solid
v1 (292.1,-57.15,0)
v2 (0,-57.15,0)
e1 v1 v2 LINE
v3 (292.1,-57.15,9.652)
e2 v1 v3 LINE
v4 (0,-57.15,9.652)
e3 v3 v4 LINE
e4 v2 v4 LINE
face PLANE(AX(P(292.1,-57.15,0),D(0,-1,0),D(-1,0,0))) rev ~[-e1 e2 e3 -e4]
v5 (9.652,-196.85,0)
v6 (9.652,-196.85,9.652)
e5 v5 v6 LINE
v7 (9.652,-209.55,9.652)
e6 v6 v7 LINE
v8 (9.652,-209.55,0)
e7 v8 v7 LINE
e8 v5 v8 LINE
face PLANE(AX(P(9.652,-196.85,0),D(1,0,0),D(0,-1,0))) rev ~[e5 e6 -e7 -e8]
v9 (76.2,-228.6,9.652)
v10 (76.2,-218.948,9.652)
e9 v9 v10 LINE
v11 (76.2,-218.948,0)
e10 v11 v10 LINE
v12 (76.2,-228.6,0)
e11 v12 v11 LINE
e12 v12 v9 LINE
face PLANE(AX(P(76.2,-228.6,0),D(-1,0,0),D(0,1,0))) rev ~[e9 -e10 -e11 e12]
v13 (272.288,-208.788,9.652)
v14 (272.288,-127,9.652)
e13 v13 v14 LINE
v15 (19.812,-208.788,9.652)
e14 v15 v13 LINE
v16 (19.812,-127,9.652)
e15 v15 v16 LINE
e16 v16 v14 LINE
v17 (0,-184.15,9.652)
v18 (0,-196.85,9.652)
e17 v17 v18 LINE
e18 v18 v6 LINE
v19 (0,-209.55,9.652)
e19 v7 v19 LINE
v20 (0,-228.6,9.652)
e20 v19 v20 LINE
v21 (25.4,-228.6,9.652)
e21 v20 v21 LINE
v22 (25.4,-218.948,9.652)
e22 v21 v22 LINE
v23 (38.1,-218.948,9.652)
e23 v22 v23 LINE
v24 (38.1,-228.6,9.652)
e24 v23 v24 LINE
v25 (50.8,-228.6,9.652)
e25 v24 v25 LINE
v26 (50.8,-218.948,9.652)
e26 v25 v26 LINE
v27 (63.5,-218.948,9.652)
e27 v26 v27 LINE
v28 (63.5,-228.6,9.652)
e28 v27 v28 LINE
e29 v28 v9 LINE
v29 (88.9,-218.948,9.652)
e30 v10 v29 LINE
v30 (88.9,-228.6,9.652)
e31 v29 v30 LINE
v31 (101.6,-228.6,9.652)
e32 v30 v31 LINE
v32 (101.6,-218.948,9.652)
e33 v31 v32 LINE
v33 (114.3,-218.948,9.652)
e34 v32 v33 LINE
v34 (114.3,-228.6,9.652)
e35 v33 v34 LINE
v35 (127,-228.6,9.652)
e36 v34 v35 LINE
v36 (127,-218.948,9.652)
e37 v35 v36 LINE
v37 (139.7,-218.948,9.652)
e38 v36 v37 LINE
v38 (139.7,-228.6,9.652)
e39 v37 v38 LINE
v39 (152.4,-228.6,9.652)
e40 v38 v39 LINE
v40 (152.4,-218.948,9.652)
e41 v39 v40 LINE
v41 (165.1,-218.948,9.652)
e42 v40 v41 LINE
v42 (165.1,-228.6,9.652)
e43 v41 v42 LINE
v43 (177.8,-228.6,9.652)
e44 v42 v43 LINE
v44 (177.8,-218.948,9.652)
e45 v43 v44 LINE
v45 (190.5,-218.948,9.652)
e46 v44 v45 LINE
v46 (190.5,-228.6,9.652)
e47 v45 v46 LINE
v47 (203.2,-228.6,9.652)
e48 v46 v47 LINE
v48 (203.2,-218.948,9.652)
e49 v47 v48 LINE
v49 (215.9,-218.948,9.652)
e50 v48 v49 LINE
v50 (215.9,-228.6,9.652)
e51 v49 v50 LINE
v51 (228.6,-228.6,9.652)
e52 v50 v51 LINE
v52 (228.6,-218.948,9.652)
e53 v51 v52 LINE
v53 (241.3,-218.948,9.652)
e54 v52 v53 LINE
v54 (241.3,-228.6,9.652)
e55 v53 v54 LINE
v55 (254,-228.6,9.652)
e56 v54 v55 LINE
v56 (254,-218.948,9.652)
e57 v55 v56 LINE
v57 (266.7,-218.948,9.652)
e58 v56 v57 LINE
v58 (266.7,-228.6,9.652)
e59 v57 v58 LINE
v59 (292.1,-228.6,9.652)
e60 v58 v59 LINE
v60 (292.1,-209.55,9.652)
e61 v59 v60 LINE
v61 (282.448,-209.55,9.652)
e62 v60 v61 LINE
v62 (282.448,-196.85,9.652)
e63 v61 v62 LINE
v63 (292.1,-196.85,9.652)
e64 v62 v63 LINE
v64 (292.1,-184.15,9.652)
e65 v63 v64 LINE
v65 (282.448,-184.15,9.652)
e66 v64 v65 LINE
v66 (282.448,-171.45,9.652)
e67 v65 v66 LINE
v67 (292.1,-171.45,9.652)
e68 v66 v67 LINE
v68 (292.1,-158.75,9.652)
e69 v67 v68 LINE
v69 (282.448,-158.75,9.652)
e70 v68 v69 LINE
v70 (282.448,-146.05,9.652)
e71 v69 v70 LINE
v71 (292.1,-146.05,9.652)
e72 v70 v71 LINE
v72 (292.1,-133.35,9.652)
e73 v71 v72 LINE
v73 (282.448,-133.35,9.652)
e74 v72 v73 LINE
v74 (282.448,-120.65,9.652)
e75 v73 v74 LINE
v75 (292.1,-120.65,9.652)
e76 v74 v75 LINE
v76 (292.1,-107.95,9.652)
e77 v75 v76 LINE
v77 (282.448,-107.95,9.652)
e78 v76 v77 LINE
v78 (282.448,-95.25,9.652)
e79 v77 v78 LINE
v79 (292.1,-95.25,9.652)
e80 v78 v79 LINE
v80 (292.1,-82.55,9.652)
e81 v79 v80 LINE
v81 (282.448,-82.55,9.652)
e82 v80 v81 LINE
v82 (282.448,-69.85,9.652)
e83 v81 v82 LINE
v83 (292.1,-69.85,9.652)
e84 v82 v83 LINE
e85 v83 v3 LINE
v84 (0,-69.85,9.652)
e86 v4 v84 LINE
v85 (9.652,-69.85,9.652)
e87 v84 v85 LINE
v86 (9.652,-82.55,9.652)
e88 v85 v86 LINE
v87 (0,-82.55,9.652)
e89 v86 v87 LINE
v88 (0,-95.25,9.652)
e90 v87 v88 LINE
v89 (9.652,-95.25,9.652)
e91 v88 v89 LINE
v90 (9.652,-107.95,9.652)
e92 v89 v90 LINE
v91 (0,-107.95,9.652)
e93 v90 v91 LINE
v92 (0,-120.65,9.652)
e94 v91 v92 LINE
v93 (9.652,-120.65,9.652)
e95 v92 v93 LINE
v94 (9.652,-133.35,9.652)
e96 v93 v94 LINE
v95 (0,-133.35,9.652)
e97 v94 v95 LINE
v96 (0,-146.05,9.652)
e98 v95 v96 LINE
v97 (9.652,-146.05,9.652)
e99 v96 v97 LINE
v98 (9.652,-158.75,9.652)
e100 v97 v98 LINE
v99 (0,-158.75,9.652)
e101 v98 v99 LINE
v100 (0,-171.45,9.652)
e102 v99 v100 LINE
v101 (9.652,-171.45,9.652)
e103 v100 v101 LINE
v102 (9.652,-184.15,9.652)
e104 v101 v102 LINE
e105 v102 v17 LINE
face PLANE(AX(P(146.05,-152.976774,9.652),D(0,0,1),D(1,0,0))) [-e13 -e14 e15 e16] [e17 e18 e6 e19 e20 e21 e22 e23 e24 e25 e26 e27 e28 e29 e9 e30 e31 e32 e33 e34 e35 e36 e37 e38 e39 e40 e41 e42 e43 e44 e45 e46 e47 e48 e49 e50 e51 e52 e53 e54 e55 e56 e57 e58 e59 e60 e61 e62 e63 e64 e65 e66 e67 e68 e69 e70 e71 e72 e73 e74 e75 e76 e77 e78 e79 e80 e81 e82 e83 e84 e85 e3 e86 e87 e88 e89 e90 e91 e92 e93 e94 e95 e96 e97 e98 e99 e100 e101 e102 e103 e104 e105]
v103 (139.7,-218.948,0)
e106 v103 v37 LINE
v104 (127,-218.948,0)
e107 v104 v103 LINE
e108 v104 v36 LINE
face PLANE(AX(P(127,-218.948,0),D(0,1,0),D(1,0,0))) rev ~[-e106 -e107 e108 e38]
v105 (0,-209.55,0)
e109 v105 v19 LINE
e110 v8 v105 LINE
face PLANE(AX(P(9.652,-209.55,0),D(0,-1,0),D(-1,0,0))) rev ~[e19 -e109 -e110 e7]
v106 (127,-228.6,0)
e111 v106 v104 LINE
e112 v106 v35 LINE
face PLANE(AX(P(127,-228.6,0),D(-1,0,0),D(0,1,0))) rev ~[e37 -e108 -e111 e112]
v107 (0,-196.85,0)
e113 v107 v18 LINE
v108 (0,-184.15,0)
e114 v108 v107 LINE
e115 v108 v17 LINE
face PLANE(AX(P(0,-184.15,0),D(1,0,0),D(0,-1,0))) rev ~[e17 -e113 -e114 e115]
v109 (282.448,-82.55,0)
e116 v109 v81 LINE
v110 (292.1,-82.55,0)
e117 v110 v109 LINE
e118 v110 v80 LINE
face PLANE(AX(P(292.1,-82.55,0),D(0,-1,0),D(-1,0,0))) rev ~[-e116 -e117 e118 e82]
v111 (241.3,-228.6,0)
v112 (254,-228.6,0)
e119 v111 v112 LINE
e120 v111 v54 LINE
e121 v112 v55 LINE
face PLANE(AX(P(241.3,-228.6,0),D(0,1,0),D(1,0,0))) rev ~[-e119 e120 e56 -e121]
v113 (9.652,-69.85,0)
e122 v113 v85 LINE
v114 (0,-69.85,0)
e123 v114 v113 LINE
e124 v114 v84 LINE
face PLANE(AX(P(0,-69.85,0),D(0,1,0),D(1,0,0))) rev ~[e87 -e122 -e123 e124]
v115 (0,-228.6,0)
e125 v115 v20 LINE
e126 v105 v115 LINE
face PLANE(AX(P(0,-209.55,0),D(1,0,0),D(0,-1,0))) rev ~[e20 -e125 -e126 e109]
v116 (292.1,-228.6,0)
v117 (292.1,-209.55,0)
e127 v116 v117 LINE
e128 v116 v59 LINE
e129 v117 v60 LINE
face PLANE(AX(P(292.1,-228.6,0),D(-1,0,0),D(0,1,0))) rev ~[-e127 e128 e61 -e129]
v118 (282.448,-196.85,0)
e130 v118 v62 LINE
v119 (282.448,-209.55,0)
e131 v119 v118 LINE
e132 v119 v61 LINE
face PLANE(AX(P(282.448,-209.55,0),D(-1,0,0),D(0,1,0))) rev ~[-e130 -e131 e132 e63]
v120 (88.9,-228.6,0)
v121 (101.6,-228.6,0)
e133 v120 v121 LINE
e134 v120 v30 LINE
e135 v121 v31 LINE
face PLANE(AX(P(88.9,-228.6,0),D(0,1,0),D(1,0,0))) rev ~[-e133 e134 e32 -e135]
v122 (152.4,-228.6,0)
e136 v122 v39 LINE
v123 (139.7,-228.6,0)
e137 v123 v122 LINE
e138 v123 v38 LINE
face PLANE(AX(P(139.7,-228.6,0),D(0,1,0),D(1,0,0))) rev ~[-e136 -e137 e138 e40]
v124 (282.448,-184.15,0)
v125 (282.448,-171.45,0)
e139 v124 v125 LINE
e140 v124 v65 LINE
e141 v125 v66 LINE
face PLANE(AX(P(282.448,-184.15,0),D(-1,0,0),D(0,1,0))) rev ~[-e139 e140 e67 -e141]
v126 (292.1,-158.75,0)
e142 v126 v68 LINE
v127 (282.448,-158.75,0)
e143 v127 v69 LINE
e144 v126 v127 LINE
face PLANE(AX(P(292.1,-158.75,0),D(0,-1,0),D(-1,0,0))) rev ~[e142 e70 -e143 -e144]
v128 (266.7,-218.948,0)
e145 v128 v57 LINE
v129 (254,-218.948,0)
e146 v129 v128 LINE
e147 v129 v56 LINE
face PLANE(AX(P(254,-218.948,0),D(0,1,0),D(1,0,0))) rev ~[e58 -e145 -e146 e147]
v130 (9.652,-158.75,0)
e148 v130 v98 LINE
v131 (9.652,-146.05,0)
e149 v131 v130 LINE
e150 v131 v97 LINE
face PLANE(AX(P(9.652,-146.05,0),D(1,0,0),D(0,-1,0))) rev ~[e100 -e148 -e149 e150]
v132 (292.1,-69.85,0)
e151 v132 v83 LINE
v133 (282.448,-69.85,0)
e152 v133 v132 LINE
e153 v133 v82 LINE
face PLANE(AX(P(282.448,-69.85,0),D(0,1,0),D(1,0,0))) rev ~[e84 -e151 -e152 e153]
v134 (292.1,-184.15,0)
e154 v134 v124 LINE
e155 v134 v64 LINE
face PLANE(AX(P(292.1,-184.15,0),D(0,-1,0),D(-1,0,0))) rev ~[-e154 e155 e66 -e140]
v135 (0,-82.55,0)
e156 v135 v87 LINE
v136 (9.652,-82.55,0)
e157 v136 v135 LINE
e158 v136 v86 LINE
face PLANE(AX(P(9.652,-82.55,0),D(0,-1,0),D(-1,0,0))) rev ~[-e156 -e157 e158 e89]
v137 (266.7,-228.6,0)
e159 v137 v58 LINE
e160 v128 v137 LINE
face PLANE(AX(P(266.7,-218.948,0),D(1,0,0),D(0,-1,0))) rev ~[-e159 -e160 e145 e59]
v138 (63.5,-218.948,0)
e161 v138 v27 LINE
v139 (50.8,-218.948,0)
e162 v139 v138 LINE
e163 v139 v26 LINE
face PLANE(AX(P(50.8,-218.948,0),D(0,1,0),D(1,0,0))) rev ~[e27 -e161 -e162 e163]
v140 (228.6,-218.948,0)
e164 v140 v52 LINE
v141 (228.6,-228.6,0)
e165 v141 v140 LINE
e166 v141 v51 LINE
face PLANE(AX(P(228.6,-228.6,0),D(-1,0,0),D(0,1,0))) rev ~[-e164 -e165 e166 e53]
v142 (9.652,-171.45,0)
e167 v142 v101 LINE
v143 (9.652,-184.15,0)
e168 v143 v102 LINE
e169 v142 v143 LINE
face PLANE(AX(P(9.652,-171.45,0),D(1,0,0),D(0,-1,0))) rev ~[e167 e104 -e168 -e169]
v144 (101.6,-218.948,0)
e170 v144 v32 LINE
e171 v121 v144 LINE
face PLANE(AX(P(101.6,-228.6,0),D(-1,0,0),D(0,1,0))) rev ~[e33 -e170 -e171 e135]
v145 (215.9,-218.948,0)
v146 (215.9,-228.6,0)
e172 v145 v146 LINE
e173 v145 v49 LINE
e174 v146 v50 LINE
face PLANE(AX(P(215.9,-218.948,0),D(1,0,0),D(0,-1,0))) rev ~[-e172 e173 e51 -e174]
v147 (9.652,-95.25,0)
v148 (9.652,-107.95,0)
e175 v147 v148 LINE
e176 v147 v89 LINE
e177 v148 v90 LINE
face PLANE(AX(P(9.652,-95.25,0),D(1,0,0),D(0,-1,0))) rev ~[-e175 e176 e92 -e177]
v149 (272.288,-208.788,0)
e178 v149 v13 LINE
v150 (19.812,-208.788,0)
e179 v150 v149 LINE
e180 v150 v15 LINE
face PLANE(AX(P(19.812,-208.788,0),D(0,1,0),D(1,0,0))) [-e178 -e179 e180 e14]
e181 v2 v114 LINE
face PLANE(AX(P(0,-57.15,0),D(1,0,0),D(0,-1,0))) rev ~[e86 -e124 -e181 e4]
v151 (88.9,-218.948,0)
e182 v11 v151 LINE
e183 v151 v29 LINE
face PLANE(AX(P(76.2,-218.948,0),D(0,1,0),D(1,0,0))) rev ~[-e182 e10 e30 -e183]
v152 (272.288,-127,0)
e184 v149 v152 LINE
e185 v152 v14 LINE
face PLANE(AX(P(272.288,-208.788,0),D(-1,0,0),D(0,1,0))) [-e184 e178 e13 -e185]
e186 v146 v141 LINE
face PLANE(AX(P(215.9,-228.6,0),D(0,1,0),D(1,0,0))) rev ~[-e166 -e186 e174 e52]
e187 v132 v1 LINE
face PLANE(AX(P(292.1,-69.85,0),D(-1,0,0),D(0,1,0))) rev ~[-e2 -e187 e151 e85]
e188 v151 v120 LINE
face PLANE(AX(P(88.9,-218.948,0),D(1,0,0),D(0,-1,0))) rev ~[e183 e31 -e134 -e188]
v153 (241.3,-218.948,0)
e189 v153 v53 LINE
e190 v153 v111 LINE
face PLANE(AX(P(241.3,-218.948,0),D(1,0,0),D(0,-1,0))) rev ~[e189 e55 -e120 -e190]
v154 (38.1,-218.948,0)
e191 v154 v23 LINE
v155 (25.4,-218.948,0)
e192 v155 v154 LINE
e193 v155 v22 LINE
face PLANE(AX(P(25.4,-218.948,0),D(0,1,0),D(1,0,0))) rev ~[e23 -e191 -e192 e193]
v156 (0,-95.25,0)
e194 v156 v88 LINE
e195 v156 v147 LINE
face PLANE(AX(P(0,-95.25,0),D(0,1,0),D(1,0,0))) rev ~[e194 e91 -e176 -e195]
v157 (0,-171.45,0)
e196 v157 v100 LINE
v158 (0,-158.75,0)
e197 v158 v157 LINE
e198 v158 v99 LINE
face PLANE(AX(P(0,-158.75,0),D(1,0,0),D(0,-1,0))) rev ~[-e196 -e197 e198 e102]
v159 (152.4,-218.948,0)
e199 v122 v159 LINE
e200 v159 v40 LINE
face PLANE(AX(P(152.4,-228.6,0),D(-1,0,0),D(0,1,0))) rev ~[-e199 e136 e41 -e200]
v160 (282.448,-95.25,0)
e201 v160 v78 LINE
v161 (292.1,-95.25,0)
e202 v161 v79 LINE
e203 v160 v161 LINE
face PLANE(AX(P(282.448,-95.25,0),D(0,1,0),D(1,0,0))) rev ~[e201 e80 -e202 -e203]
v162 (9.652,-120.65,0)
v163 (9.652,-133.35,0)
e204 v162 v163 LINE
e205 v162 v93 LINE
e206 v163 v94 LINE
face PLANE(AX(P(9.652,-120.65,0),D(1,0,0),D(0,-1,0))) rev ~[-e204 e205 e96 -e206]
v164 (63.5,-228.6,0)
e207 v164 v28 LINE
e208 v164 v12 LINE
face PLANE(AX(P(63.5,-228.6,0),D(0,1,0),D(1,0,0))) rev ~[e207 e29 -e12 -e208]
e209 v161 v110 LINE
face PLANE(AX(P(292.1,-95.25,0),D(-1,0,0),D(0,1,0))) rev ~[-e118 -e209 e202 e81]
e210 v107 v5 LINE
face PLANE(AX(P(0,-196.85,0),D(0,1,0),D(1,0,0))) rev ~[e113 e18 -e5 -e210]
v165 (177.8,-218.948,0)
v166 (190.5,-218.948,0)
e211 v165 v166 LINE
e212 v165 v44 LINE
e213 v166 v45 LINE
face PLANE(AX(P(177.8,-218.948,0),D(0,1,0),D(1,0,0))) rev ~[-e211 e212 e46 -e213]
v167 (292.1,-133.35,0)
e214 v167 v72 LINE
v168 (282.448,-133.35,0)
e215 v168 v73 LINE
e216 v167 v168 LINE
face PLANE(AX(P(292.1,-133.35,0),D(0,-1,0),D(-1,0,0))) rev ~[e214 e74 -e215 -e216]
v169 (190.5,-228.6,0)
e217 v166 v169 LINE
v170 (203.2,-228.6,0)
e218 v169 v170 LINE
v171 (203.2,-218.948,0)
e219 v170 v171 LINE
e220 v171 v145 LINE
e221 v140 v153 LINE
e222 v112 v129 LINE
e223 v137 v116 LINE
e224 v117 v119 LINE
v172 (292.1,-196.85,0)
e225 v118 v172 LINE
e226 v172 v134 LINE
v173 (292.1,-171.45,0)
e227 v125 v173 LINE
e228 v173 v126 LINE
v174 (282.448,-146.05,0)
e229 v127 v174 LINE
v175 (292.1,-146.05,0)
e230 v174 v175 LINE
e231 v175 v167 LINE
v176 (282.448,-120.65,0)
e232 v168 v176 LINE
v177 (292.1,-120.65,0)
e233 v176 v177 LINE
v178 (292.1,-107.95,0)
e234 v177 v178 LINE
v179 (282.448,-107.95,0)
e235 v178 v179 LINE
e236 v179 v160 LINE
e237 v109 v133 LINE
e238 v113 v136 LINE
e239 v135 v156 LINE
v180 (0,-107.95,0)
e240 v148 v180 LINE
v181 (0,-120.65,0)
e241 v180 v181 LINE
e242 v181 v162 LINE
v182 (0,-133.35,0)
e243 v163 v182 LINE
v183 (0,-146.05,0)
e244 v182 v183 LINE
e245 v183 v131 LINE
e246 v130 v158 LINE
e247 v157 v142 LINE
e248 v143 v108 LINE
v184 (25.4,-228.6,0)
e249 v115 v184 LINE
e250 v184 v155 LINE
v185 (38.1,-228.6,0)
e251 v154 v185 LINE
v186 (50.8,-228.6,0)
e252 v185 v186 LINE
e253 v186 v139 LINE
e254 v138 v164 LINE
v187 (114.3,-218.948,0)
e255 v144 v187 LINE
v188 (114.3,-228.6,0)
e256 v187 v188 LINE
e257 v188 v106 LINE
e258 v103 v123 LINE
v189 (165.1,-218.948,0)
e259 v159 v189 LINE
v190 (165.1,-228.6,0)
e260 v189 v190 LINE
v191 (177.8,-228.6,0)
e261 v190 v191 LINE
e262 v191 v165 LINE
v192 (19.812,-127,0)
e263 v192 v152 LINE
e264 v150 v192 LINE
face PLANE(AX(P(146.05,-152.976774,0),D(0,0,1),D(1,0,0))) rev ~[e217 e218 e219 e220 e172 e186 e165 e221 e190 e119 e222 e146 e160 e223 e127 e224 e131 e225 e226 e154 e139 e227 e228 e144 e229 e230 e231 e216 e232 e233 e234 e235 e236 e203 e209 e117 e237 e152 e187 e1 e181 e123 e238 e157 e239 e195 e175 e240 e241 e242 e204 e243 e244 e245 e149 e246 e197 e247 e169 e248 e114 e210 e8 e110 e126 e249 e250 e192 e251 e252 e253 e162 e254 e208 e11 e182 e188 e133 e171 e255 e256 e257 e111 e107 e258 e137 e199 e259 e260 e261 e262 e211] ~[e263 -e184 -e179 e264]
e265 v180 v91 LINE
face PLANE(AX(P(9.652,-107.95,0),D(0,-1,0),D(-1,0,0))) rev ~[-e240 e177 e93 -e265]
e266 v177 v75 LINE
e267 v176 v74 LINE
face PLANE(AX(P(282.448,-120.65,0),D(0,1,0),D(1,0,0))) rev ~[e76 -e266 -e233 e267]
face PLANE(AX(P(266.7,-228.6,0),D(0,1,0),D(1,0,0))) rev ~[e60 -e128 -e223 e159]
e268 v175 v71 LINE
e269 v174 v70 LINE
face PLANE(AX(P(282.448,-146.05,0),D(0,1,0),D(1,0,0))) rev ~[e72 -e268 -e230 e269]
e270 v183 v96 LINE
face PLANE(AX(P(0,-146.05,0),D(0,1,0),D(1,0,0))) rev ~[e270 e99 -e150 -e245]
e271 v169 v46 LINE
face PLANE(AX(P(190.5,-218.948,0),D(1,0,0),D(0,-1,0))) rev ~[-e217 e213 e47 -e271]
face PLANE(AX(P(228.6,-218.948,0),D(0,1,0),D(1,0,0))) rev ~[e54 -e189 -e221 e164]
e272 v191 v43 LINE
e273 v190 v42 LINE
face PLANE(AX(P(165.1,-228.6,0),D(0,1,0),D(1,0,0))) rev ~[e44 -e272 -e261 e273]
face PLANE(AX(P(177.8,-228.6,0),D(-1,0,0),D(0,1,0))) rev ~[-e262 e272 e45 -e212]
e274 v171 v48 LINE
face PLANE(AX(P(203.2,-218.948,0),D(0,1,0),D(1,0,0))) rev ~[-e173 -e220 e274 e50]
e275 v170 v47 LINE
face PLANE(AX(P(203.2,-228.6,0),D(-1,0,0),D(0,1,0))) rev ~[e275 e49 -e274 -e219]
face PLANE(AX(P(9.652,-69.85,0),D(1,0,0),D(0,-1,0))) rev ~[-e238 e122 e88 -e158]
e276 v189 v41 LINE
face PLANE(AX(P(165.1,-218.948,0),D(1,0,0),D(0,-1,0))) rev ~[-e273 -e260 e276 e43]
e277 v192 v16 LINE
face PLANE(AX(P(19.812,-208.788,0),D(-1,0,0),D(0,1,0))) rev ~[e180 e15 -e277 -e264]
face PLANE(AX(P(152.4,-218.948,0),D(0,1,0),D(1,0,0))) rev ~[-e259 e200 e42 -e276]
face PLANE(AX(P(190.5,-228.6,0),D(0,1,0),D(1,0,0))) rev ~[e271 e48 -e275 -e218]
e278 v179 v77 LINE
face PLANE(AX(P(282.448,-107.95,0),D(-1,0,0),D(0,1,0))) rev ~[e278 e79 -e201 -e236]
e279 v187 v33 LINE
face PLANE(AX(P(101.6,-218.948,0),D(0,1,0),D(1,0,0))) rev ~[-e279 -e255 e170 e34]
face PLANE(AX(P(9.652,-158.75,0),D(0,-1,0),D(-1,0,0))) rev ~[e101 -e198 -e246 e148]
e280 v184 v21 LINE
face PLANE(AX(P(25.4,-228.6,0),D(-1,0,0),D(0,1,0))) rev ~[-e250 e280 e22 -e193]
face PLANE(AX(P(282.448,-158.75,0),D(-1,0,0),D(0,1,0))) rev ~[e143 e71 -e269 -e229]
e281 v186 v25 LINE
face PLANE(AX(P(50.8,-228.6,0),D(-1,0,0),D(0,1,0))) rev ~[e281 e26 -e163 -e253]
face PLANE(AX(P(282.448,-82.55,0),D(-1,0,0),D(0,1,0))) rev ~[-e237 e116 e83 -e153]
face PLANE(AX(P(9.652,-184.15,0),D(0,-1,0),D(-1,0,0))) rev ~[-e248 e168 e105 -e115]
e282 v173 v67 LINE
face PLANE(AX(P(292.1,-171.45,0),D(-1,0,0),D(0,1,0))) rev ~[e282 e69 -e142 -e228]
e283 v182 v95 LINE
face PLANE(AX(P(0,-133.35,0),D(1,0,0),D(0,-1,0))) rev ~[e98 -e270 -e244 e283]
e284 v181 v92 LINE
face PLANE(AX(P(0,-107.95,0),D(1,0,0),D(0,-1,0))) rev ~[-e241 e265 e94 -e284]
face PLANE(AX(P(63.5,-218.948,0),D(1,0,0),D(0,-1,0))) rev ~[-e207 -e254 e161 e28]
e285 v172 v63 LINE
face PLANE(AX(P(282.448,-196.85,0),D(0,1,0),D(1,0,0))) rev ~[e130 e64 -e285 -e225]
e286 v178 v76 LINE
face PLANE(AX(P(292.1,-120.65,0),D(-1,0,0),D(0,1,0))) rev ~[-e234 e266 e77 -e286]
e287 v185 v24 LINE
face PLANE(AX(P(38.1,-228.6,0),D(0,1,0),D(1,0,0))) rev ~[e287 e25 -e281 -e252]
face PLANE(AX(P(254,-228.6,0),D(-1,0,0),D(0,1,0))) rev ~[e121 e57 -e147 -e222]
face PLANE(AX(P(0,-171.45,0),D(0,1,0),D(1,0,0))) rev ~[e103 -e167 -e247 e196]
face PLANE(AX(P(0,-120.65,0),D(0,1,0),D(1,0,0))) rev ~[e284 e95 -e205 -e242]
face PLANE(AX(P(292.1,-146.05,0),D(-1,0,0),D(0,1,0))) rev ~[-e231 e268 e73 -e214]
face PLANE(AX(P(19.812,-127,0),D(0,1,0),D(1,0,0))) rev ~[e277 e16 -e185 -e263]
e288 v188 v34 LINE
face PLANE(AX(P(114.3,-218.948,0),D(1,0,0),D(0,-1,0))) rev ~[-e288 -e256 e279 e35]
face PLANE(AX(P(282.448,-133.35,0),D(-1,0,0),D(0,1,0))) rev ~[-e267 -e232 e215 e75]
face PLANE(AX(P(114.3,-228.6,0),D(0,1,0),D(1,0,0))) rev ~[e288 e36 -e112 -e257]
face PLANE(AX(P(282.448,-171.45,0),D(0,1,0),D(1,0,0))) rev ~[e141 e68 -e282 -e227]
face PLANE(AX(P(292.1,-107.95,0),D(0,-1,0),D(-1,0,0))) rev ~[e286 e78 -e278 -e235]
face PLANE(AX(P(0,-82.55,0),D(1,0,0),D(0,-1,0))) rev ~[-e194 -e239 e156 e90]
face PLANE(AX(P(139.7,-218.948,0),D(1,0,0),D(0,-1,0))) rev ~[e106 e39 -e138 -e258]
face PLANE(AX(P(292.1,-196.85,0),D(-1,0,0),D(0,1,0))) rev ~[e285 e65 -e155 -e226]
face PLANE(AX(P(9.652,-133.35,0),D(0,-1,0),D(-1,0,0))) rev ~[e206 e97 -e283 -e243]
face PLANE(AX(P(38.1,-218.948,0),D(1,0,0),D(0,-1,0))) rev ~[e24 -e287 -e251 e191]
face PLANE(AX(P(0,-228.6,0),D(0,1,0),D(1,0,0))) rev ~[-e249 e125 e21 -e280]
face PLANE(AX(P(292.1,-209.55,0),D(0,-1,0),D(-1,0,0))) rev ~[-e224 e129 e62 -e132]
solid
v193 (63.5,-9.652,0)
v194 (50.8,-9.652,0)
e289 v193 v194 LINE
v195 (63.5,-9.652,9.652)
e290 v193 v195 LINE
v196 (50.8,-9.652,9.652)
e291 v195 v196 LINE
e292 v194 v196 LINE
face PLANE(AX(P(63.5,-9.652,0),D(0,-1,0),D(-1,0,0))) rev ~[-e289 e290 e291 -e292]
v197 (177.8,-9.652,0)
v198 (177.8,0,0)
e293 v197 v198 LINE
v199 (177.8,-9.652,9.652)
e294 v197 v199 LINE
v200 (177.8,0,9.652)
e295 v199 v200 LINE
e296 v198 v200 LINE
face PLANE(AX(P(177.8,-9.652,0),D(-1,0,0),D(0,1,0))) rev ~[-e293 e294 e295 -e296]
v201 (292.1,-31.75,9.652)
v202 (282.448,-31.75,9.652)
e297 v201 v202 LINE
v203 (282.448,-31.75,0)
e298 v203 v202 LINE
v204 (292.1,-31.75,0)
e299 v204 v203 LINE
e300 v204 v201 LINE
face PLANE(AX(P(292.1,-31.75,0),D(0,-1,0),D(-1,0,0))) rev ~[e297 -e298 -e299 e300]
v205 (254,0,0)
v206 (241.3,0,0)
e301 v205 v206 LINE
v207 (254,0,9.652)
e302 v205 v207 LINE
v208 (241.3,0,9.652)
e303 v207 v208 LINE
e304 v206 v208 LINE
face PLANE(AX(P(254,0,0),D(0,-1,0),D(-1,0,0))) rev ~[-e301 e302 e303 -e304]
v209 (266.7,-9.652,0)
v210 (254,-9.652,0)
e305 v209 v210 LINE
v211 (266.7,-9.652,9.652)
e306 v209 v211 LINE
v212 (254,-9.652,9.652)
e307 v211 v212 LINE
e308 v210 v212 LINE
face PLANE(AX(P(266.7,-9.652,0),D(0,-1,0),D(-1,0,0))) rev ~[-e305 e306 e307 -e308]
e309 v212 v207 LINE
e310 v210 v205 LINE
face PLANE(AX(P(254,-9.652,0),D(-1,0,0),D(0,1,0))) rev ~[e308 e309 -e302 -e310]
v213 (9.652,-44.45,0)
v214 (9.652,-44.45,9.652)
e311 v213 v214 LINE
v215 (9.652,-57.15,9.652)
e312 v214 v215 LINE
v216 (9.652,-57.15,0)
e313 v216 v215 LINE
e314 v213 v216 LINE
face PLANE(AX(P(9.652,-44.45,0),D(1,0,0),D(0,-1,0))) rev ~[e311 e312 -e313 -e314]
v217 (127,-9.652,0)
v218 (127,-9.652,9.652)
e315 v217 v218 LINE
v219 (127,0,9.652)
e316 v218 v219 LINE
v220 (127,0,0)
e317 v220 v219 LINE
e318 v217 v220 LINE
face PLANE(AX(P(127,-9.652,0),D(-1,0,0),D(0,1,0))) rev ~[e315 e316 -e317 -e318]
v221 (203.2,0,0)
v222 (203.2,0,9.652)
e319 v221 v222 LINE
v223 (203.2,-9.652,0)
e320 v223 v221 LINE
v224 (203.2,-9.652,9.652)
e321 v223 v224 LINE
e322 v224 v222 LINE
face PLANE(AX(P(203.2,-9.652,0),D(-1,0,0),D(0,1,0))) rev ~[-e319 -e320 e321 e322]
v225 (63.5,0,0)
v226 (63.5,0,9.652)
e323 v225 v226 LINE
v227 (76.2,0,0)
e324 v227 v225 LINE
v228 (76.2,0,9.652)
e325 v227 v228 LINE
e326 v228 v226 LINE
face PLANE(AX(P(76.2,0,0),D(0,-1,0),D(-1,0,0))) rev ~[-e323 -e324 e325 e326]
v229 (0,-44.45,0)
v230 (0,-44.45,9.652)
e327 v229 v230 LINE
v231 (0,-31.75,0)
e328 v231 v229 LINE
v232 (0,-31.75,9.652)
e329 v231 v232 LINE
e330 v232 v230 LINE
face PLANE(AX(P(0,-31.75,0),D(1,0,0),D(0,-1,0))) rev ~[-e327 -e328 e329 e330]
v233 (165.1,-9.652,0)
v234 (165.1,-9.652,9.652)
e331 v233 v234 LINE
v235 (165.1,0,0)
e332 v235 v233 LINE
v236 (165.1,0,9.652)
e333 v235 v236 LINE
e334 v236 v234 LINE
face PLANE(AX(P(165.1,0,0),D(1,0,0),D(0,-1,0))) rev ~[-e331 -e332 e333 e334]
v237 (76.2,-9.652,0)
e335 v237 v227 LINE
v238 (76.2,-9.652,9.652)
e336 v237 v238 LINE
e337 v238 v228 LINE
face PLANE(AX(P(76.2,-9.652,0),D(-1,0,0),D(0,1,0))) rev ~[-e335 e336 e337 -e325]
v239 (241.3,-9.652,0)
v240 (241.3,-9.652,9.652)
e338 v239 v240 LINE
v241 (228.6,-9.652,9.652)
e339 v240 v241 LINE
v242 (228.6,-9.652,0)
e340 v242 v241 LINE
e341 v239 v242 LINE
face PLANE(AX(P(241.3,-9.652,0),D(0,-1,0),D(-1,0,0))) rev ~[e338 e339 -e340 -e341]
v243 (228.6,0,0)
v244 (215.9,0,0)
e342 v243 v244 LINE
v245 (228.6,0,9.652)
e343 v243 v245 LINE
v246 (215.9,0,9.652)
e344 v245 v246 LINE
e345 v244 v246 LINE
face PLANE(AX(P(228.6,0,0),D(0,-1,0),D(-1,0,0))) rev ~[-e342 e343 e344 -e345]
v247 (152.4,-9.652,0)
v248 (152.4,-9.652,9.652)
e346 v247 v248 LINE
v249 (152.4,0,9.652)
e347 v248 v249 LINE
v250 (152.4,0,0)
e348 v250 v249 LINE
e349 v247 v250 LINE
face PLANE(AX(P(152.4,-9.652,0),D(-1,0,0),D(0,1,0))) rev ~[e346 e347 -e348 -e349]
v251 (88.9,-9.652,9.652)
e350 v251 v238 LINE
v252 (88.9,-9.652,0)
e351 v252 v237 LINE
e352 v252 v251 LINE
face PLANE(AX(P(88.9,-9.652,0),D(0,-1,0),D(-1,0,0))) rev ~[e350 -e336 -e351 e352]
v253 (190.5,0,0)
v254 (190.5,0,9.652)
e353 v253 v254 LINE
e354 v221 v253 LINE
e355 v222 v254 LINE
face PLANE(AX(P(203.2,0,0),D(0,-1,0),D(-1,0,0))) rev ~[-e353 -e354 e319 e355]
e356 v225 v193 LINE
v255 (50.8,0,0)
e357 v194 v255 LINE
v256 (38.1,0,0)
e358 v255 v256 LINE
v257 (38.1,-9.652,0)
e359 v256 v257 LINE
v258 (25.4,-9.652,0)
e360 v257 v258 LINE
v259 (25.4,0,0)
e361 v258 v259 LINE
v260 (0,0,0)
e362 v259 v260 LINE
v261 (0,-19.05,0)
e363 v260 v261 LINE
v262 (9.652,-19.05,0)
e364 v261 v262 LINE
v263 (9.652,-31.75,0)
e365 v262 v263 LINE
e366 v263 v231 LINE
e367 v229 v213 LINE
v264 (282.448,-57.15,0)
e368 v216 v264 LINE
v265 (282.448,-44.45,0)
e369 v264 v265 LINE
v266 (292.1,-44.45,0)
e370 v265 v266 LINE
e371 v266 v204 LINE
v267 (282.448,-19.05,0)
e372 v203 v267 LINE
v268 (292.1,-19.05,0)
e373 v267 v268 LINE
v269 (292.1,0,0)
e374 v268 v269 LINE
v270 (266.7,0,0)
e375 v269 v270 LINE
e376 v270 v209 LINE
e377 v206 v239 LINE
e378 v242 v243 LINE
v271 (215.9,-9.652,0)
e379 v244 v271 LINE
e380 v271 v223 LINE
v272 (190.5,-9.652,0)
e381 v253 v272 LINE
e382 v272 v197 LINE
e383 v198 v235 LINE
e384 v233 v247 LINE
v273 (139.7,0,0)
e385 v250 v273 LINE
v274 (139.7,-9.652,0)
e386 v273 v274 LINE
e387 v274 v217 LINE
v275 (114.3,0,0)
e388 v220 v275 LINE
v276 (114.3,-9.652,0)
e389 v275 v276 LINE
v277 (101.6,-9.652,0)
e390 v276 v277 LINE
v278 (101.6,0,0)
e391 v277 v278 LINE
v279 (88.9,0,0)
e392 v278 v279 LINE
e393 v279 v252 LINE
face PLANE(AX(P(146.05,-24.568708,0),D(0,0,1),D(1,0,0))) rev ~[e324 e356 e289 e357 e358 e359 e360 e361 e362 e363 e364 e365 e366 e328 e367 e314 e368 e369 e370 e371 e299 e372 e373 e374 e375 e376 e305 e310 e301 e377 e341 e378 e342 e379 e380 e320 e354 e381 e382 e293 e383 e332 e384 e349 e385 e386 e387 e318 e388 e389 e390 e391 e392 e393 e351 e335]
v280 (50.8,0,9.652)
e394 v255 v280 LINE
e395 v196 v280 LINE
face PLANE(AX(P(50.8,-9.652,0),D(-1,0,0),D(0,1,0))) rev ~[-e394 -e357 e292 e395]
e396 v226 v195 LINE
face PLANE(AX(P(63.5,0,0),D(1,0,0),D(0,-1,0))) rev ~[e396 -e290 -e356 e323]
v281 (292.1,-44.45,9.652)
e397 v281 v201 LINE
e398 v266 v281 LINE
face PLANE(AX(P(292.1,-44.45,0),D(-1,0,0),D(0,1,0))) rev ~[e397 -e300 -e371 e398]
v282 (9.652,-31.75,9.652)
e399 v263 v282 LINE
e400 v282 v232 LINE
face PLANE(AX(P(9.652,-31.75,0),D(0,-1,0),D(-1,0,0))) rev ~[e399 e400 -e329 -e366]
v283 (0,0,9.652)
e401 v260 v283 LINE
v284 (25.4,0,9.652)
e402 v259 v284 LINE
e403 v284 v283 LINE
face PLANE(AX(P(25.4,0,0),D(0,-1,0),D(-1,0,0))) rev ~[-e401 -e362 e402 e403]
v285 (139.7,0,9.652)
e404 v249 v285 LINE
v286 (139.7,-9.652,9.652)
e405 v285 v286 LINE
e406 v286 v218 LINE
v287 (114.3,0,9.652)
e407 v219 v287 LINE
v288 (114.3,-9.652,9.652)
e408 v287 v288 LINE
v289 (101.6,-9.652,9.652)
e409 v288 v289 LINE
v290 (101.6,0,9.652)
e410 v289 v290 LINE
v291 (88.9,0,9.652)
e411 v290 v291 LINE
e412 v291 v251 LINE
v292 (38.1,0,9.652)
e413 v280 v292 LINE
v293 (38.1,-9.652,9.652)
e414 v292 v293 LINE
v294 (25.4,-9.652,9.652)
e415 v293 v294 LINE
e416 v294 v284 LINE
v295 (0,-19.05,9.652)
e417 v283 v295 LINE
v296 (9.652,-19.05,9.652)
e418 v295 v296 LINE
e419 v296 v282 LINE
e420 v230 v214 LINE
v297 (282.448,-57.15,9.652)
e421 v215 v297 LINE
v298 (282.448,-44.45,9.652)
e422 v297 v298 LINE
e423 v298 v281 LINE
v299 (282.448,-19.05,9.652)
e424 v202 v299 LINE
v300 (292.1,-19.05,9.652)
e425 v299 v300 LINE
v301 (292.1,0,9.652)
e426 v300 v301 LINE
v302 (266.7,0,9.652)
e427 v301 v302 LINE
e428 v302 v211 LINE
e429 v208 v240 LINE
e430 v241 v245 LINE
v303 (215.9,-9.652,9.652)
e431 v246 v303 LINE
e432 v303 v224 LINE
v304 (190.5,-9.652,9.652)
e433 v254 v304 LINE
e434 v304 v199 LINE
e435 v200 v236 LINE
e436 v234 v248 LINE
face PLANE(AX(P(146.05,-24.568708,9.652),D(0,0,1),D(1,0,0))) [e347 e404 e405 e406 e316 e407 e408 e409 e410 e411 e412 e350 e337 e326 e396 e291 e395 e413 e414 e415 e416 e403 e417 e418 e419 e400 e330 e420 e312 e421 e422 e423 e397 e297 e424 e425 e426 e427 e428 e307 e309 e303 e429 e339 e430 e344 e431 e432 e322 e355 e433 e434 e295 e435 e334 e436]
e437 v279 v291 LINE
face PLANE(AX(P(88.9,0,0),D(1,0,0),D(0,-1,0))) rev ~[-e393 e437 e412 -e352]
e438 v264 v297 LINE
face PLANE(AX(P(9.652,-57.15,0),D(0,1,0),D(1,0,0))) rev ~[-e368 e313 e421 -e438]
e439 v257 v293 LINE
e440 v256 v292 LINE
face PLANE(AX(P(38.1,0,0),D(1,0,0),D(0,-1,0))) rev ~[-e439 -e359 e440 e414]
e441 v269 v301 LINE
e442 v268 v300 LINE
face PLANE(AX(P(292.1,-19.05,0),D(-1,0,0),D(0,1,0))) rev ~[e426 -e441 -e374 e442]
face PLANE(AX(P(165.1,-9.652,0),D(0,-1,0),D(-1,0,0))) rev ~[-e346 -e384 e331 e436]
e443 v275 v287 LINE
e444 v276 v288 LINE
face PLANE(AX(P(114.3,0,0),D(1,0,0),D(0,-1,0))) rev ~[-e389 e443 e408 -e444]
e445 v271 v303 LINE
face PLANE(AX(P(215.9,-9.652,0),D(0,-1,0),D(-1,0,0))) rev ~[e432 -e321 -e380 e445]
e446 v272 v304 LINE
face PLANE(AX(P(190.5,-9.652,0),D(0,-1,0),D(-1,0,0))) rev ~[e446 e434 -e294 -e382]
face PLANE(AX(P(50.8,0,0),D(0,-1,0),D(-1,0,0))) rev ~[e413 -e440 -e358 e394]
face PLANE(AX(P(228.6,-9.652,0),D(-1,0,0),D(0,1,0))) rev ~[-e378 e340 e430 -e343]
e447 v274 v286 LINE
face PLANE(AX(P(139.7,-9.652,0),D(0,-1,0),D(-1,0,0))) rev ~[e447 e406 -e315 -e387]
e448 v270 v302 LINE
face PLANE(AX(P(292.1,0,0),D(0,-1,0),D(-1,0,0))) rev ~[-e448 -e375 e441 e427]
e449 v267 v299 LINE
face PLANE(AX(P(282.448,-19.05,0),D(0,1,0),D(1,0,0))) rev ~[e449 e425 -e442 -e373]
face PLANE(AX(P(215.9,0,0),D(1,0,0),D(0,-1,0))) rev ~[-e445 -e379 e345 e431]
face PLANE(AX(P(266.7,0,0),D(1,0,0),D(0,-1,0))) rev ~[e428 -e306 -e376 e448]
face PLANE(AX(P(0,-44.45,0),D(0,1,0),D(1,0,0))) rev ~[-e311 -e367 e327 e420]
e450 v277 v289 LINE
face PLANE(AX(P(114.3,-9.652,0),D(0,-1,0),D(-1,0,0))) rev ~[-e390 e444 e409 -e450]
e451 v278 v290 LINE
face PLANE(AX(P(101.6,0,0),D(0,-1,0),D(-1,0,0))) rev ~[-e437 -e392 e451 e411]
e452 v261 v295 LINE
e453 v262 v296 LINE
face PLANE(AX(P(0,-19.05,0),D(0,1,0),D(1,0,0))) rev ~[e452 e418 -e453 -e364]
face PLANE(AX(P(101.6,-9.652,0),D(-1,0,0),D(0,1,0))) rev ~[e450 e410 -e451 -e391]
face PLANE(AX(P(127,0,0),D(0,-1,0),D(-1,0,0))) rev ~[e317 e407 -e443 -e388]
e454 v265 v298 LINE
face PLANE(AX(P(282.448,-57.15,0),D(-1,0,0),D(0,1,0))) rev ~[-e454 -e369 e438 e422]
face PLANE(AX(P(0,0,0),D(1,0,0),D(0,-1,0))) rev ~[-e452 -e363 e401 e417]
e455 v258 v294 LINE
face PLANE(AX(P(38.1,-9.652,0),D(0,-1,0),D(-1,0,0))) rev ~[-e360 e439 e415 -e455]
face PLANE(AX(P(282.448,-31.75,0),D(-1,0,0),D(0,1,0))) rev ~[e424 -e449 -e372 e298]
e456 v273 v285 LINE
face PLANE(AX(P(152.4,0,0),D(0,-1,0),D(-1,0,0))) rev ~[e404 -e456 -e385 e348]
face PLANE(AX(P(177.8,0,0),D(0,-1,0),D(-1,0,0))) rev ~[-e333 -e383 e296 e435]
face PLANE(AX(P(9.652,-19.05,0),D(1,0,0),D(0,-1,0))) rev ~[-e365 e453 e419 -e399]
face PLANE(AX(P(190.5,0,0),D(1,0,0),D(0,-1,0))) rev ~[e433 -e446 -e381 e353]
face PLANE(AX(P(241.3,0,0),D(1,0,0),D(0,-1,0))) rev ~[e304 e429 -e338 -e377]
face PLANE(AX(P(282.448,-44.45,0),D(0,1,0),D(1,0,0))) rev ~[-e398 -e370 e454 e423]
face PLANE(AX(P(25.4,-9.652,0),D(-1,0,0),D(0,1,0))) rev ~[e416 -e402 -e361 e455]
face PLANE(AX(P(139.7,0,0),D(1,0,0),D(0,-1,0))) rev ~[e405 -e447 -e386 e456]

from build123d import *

# Parameters (mm, degrees)
F0_W     = 252.476
F0_H     = 81.788
F1_DEPTH = 9.652
F2_DEPTH = 9.652


with BuildPart() as f1:
    # F0 (on Top) → F1 (new body)
    with BuildSketch(Plane.XY):
        Polygon((282.448, -57.15), (9.652, -57.15), (0, -57.15), (0, -69.85), (9.652, -69.85), (9.652, -82.55), (0, -82.55), (0, -95.25), (9.652, -95.25), (9.652, -107.95), (0, -107.95), (0, -120.65), (9.652, -120.65), (9.652, -133.35), (0, -133.35), (0, -146.05), (9.652, -146.05), (9.652, -158.75), (0, -158.75), (0, -171.45), (9.652, -171.45), (9.652, -184.15), (0, -184.15), (0, -196.85), (9.652, -196.85), (9.652, -209.55), (0, -209.55), (0, -228.6), (25.4, -228.6), (25.4, -218.948), (38.1, -218.948), (38.1, -228.6), (50.8, -228.6), (50.8, -218.948), (63.5, -218.948), (63.5, -228.6), (76.2, -228.6), (76.2, -218.948), (88.9, -218.948), (88.9, -228.6), (101.6, -228.6), (101.6, -218.948), (114.3, -218.948), (114.3, -228.6), (127, -228.6), (127, -218.948), (139.7, -218.948), (139.7, -228.6), (152.4, -228.6), (152.4, -218.948), (165.1, -218.948), (165.1, -228.6), (177.8, -228.6), (177.8, -218.948), (190.5, -218.948), (190.5, -228.6), (203.2, -228.6), (203.2, -218.948), (215.9, -218.948), (215.9, -228.6), (228.6, -228.6), (228.6, -218.948), (241.3, -218.948), (241.3, -228.6), (254, -228.6), (254, -218.948), (266.7, -218.948), (266.7, -228.6), (292.1, -228.6), (292.1, -209.55), (282.448, -209.55), (282.448, -196.85), (292.1, -196.85), (292.1, -184.15), (282.448, -184.15), (282.448, -171.45), (292.1, -171.45), (292.1, -158.75), (282.448, -158.75), (282.448, -146.05), (292.1, -146.05), (292.1, -133.35), (282.448, -133.35), (282.448, -120.65), (292.1, -120.65), (292.1, -107.95), (282.448, -107.95), (282.448, -95.25), (292.1, -95.25), (292.1, -82.55), (282.448, -82.55), (282.448, -69.85), (292.1, -69.85), (292.1, -57.15), align=None)
        with Locations((146.05, -167.894)):
            Rectangle(F0_W, F0_H, mode=Mode.SUBTRACT)
    extrude(amount=F1_DEPTH)


with BuildPart() as f2:
    # F0 (on Top) → F2 (new body)
    with BuildSketch(Plane.XY):
        Polygon((25.4, 0), (0, 0), (0, -19.05), (9.652, -19.05), (9.652, -31.75), (0, -31.75), (0, -44.45), (9.652, -44.45), (9.652, -57.15), (282.448, -57.15), (282.448, -44.45), (292.1, -44.45), (292.1, -31.75), (282.448, -31.75), (282.448, -19.05), (292.1, -19.05), (292.1, 0), (266.7, 0), (266.7, -9.652), (254, -9.652), (254, 0), (241.3, 0), (241.3, -9.652), (228.6, -9.652), (228.6, 0), (215.9, 0), (215.9, -9.652), (203.2, -9.652), (203.2, 0), (190.5, 0), (190.5, -9.652), (177.8, -9.652), (177.8, 0), (165.1, 0), (165.1, -9.652), (152.4, -9.652), (152.4, 0), (139.7, 0), (139.7, -9.652), (127, -9.652), (127, 0), (114.3, 0), (114.3, -9.652), (101.6, -9.652), (101.6, 0), (88.9, 0), (88.9, -9.652), (76.2, -9.652), (76.2, 0), (63.5, 0), (63.5, -9.652), (50.8, -9.652), (50.8, 0), (38.1, 0), (38.1, -9.652), (25.4, -9.652), align=None)
    extrude(amount=F2_DEPTH)


solid = Compound([f1.part, f2.part])
